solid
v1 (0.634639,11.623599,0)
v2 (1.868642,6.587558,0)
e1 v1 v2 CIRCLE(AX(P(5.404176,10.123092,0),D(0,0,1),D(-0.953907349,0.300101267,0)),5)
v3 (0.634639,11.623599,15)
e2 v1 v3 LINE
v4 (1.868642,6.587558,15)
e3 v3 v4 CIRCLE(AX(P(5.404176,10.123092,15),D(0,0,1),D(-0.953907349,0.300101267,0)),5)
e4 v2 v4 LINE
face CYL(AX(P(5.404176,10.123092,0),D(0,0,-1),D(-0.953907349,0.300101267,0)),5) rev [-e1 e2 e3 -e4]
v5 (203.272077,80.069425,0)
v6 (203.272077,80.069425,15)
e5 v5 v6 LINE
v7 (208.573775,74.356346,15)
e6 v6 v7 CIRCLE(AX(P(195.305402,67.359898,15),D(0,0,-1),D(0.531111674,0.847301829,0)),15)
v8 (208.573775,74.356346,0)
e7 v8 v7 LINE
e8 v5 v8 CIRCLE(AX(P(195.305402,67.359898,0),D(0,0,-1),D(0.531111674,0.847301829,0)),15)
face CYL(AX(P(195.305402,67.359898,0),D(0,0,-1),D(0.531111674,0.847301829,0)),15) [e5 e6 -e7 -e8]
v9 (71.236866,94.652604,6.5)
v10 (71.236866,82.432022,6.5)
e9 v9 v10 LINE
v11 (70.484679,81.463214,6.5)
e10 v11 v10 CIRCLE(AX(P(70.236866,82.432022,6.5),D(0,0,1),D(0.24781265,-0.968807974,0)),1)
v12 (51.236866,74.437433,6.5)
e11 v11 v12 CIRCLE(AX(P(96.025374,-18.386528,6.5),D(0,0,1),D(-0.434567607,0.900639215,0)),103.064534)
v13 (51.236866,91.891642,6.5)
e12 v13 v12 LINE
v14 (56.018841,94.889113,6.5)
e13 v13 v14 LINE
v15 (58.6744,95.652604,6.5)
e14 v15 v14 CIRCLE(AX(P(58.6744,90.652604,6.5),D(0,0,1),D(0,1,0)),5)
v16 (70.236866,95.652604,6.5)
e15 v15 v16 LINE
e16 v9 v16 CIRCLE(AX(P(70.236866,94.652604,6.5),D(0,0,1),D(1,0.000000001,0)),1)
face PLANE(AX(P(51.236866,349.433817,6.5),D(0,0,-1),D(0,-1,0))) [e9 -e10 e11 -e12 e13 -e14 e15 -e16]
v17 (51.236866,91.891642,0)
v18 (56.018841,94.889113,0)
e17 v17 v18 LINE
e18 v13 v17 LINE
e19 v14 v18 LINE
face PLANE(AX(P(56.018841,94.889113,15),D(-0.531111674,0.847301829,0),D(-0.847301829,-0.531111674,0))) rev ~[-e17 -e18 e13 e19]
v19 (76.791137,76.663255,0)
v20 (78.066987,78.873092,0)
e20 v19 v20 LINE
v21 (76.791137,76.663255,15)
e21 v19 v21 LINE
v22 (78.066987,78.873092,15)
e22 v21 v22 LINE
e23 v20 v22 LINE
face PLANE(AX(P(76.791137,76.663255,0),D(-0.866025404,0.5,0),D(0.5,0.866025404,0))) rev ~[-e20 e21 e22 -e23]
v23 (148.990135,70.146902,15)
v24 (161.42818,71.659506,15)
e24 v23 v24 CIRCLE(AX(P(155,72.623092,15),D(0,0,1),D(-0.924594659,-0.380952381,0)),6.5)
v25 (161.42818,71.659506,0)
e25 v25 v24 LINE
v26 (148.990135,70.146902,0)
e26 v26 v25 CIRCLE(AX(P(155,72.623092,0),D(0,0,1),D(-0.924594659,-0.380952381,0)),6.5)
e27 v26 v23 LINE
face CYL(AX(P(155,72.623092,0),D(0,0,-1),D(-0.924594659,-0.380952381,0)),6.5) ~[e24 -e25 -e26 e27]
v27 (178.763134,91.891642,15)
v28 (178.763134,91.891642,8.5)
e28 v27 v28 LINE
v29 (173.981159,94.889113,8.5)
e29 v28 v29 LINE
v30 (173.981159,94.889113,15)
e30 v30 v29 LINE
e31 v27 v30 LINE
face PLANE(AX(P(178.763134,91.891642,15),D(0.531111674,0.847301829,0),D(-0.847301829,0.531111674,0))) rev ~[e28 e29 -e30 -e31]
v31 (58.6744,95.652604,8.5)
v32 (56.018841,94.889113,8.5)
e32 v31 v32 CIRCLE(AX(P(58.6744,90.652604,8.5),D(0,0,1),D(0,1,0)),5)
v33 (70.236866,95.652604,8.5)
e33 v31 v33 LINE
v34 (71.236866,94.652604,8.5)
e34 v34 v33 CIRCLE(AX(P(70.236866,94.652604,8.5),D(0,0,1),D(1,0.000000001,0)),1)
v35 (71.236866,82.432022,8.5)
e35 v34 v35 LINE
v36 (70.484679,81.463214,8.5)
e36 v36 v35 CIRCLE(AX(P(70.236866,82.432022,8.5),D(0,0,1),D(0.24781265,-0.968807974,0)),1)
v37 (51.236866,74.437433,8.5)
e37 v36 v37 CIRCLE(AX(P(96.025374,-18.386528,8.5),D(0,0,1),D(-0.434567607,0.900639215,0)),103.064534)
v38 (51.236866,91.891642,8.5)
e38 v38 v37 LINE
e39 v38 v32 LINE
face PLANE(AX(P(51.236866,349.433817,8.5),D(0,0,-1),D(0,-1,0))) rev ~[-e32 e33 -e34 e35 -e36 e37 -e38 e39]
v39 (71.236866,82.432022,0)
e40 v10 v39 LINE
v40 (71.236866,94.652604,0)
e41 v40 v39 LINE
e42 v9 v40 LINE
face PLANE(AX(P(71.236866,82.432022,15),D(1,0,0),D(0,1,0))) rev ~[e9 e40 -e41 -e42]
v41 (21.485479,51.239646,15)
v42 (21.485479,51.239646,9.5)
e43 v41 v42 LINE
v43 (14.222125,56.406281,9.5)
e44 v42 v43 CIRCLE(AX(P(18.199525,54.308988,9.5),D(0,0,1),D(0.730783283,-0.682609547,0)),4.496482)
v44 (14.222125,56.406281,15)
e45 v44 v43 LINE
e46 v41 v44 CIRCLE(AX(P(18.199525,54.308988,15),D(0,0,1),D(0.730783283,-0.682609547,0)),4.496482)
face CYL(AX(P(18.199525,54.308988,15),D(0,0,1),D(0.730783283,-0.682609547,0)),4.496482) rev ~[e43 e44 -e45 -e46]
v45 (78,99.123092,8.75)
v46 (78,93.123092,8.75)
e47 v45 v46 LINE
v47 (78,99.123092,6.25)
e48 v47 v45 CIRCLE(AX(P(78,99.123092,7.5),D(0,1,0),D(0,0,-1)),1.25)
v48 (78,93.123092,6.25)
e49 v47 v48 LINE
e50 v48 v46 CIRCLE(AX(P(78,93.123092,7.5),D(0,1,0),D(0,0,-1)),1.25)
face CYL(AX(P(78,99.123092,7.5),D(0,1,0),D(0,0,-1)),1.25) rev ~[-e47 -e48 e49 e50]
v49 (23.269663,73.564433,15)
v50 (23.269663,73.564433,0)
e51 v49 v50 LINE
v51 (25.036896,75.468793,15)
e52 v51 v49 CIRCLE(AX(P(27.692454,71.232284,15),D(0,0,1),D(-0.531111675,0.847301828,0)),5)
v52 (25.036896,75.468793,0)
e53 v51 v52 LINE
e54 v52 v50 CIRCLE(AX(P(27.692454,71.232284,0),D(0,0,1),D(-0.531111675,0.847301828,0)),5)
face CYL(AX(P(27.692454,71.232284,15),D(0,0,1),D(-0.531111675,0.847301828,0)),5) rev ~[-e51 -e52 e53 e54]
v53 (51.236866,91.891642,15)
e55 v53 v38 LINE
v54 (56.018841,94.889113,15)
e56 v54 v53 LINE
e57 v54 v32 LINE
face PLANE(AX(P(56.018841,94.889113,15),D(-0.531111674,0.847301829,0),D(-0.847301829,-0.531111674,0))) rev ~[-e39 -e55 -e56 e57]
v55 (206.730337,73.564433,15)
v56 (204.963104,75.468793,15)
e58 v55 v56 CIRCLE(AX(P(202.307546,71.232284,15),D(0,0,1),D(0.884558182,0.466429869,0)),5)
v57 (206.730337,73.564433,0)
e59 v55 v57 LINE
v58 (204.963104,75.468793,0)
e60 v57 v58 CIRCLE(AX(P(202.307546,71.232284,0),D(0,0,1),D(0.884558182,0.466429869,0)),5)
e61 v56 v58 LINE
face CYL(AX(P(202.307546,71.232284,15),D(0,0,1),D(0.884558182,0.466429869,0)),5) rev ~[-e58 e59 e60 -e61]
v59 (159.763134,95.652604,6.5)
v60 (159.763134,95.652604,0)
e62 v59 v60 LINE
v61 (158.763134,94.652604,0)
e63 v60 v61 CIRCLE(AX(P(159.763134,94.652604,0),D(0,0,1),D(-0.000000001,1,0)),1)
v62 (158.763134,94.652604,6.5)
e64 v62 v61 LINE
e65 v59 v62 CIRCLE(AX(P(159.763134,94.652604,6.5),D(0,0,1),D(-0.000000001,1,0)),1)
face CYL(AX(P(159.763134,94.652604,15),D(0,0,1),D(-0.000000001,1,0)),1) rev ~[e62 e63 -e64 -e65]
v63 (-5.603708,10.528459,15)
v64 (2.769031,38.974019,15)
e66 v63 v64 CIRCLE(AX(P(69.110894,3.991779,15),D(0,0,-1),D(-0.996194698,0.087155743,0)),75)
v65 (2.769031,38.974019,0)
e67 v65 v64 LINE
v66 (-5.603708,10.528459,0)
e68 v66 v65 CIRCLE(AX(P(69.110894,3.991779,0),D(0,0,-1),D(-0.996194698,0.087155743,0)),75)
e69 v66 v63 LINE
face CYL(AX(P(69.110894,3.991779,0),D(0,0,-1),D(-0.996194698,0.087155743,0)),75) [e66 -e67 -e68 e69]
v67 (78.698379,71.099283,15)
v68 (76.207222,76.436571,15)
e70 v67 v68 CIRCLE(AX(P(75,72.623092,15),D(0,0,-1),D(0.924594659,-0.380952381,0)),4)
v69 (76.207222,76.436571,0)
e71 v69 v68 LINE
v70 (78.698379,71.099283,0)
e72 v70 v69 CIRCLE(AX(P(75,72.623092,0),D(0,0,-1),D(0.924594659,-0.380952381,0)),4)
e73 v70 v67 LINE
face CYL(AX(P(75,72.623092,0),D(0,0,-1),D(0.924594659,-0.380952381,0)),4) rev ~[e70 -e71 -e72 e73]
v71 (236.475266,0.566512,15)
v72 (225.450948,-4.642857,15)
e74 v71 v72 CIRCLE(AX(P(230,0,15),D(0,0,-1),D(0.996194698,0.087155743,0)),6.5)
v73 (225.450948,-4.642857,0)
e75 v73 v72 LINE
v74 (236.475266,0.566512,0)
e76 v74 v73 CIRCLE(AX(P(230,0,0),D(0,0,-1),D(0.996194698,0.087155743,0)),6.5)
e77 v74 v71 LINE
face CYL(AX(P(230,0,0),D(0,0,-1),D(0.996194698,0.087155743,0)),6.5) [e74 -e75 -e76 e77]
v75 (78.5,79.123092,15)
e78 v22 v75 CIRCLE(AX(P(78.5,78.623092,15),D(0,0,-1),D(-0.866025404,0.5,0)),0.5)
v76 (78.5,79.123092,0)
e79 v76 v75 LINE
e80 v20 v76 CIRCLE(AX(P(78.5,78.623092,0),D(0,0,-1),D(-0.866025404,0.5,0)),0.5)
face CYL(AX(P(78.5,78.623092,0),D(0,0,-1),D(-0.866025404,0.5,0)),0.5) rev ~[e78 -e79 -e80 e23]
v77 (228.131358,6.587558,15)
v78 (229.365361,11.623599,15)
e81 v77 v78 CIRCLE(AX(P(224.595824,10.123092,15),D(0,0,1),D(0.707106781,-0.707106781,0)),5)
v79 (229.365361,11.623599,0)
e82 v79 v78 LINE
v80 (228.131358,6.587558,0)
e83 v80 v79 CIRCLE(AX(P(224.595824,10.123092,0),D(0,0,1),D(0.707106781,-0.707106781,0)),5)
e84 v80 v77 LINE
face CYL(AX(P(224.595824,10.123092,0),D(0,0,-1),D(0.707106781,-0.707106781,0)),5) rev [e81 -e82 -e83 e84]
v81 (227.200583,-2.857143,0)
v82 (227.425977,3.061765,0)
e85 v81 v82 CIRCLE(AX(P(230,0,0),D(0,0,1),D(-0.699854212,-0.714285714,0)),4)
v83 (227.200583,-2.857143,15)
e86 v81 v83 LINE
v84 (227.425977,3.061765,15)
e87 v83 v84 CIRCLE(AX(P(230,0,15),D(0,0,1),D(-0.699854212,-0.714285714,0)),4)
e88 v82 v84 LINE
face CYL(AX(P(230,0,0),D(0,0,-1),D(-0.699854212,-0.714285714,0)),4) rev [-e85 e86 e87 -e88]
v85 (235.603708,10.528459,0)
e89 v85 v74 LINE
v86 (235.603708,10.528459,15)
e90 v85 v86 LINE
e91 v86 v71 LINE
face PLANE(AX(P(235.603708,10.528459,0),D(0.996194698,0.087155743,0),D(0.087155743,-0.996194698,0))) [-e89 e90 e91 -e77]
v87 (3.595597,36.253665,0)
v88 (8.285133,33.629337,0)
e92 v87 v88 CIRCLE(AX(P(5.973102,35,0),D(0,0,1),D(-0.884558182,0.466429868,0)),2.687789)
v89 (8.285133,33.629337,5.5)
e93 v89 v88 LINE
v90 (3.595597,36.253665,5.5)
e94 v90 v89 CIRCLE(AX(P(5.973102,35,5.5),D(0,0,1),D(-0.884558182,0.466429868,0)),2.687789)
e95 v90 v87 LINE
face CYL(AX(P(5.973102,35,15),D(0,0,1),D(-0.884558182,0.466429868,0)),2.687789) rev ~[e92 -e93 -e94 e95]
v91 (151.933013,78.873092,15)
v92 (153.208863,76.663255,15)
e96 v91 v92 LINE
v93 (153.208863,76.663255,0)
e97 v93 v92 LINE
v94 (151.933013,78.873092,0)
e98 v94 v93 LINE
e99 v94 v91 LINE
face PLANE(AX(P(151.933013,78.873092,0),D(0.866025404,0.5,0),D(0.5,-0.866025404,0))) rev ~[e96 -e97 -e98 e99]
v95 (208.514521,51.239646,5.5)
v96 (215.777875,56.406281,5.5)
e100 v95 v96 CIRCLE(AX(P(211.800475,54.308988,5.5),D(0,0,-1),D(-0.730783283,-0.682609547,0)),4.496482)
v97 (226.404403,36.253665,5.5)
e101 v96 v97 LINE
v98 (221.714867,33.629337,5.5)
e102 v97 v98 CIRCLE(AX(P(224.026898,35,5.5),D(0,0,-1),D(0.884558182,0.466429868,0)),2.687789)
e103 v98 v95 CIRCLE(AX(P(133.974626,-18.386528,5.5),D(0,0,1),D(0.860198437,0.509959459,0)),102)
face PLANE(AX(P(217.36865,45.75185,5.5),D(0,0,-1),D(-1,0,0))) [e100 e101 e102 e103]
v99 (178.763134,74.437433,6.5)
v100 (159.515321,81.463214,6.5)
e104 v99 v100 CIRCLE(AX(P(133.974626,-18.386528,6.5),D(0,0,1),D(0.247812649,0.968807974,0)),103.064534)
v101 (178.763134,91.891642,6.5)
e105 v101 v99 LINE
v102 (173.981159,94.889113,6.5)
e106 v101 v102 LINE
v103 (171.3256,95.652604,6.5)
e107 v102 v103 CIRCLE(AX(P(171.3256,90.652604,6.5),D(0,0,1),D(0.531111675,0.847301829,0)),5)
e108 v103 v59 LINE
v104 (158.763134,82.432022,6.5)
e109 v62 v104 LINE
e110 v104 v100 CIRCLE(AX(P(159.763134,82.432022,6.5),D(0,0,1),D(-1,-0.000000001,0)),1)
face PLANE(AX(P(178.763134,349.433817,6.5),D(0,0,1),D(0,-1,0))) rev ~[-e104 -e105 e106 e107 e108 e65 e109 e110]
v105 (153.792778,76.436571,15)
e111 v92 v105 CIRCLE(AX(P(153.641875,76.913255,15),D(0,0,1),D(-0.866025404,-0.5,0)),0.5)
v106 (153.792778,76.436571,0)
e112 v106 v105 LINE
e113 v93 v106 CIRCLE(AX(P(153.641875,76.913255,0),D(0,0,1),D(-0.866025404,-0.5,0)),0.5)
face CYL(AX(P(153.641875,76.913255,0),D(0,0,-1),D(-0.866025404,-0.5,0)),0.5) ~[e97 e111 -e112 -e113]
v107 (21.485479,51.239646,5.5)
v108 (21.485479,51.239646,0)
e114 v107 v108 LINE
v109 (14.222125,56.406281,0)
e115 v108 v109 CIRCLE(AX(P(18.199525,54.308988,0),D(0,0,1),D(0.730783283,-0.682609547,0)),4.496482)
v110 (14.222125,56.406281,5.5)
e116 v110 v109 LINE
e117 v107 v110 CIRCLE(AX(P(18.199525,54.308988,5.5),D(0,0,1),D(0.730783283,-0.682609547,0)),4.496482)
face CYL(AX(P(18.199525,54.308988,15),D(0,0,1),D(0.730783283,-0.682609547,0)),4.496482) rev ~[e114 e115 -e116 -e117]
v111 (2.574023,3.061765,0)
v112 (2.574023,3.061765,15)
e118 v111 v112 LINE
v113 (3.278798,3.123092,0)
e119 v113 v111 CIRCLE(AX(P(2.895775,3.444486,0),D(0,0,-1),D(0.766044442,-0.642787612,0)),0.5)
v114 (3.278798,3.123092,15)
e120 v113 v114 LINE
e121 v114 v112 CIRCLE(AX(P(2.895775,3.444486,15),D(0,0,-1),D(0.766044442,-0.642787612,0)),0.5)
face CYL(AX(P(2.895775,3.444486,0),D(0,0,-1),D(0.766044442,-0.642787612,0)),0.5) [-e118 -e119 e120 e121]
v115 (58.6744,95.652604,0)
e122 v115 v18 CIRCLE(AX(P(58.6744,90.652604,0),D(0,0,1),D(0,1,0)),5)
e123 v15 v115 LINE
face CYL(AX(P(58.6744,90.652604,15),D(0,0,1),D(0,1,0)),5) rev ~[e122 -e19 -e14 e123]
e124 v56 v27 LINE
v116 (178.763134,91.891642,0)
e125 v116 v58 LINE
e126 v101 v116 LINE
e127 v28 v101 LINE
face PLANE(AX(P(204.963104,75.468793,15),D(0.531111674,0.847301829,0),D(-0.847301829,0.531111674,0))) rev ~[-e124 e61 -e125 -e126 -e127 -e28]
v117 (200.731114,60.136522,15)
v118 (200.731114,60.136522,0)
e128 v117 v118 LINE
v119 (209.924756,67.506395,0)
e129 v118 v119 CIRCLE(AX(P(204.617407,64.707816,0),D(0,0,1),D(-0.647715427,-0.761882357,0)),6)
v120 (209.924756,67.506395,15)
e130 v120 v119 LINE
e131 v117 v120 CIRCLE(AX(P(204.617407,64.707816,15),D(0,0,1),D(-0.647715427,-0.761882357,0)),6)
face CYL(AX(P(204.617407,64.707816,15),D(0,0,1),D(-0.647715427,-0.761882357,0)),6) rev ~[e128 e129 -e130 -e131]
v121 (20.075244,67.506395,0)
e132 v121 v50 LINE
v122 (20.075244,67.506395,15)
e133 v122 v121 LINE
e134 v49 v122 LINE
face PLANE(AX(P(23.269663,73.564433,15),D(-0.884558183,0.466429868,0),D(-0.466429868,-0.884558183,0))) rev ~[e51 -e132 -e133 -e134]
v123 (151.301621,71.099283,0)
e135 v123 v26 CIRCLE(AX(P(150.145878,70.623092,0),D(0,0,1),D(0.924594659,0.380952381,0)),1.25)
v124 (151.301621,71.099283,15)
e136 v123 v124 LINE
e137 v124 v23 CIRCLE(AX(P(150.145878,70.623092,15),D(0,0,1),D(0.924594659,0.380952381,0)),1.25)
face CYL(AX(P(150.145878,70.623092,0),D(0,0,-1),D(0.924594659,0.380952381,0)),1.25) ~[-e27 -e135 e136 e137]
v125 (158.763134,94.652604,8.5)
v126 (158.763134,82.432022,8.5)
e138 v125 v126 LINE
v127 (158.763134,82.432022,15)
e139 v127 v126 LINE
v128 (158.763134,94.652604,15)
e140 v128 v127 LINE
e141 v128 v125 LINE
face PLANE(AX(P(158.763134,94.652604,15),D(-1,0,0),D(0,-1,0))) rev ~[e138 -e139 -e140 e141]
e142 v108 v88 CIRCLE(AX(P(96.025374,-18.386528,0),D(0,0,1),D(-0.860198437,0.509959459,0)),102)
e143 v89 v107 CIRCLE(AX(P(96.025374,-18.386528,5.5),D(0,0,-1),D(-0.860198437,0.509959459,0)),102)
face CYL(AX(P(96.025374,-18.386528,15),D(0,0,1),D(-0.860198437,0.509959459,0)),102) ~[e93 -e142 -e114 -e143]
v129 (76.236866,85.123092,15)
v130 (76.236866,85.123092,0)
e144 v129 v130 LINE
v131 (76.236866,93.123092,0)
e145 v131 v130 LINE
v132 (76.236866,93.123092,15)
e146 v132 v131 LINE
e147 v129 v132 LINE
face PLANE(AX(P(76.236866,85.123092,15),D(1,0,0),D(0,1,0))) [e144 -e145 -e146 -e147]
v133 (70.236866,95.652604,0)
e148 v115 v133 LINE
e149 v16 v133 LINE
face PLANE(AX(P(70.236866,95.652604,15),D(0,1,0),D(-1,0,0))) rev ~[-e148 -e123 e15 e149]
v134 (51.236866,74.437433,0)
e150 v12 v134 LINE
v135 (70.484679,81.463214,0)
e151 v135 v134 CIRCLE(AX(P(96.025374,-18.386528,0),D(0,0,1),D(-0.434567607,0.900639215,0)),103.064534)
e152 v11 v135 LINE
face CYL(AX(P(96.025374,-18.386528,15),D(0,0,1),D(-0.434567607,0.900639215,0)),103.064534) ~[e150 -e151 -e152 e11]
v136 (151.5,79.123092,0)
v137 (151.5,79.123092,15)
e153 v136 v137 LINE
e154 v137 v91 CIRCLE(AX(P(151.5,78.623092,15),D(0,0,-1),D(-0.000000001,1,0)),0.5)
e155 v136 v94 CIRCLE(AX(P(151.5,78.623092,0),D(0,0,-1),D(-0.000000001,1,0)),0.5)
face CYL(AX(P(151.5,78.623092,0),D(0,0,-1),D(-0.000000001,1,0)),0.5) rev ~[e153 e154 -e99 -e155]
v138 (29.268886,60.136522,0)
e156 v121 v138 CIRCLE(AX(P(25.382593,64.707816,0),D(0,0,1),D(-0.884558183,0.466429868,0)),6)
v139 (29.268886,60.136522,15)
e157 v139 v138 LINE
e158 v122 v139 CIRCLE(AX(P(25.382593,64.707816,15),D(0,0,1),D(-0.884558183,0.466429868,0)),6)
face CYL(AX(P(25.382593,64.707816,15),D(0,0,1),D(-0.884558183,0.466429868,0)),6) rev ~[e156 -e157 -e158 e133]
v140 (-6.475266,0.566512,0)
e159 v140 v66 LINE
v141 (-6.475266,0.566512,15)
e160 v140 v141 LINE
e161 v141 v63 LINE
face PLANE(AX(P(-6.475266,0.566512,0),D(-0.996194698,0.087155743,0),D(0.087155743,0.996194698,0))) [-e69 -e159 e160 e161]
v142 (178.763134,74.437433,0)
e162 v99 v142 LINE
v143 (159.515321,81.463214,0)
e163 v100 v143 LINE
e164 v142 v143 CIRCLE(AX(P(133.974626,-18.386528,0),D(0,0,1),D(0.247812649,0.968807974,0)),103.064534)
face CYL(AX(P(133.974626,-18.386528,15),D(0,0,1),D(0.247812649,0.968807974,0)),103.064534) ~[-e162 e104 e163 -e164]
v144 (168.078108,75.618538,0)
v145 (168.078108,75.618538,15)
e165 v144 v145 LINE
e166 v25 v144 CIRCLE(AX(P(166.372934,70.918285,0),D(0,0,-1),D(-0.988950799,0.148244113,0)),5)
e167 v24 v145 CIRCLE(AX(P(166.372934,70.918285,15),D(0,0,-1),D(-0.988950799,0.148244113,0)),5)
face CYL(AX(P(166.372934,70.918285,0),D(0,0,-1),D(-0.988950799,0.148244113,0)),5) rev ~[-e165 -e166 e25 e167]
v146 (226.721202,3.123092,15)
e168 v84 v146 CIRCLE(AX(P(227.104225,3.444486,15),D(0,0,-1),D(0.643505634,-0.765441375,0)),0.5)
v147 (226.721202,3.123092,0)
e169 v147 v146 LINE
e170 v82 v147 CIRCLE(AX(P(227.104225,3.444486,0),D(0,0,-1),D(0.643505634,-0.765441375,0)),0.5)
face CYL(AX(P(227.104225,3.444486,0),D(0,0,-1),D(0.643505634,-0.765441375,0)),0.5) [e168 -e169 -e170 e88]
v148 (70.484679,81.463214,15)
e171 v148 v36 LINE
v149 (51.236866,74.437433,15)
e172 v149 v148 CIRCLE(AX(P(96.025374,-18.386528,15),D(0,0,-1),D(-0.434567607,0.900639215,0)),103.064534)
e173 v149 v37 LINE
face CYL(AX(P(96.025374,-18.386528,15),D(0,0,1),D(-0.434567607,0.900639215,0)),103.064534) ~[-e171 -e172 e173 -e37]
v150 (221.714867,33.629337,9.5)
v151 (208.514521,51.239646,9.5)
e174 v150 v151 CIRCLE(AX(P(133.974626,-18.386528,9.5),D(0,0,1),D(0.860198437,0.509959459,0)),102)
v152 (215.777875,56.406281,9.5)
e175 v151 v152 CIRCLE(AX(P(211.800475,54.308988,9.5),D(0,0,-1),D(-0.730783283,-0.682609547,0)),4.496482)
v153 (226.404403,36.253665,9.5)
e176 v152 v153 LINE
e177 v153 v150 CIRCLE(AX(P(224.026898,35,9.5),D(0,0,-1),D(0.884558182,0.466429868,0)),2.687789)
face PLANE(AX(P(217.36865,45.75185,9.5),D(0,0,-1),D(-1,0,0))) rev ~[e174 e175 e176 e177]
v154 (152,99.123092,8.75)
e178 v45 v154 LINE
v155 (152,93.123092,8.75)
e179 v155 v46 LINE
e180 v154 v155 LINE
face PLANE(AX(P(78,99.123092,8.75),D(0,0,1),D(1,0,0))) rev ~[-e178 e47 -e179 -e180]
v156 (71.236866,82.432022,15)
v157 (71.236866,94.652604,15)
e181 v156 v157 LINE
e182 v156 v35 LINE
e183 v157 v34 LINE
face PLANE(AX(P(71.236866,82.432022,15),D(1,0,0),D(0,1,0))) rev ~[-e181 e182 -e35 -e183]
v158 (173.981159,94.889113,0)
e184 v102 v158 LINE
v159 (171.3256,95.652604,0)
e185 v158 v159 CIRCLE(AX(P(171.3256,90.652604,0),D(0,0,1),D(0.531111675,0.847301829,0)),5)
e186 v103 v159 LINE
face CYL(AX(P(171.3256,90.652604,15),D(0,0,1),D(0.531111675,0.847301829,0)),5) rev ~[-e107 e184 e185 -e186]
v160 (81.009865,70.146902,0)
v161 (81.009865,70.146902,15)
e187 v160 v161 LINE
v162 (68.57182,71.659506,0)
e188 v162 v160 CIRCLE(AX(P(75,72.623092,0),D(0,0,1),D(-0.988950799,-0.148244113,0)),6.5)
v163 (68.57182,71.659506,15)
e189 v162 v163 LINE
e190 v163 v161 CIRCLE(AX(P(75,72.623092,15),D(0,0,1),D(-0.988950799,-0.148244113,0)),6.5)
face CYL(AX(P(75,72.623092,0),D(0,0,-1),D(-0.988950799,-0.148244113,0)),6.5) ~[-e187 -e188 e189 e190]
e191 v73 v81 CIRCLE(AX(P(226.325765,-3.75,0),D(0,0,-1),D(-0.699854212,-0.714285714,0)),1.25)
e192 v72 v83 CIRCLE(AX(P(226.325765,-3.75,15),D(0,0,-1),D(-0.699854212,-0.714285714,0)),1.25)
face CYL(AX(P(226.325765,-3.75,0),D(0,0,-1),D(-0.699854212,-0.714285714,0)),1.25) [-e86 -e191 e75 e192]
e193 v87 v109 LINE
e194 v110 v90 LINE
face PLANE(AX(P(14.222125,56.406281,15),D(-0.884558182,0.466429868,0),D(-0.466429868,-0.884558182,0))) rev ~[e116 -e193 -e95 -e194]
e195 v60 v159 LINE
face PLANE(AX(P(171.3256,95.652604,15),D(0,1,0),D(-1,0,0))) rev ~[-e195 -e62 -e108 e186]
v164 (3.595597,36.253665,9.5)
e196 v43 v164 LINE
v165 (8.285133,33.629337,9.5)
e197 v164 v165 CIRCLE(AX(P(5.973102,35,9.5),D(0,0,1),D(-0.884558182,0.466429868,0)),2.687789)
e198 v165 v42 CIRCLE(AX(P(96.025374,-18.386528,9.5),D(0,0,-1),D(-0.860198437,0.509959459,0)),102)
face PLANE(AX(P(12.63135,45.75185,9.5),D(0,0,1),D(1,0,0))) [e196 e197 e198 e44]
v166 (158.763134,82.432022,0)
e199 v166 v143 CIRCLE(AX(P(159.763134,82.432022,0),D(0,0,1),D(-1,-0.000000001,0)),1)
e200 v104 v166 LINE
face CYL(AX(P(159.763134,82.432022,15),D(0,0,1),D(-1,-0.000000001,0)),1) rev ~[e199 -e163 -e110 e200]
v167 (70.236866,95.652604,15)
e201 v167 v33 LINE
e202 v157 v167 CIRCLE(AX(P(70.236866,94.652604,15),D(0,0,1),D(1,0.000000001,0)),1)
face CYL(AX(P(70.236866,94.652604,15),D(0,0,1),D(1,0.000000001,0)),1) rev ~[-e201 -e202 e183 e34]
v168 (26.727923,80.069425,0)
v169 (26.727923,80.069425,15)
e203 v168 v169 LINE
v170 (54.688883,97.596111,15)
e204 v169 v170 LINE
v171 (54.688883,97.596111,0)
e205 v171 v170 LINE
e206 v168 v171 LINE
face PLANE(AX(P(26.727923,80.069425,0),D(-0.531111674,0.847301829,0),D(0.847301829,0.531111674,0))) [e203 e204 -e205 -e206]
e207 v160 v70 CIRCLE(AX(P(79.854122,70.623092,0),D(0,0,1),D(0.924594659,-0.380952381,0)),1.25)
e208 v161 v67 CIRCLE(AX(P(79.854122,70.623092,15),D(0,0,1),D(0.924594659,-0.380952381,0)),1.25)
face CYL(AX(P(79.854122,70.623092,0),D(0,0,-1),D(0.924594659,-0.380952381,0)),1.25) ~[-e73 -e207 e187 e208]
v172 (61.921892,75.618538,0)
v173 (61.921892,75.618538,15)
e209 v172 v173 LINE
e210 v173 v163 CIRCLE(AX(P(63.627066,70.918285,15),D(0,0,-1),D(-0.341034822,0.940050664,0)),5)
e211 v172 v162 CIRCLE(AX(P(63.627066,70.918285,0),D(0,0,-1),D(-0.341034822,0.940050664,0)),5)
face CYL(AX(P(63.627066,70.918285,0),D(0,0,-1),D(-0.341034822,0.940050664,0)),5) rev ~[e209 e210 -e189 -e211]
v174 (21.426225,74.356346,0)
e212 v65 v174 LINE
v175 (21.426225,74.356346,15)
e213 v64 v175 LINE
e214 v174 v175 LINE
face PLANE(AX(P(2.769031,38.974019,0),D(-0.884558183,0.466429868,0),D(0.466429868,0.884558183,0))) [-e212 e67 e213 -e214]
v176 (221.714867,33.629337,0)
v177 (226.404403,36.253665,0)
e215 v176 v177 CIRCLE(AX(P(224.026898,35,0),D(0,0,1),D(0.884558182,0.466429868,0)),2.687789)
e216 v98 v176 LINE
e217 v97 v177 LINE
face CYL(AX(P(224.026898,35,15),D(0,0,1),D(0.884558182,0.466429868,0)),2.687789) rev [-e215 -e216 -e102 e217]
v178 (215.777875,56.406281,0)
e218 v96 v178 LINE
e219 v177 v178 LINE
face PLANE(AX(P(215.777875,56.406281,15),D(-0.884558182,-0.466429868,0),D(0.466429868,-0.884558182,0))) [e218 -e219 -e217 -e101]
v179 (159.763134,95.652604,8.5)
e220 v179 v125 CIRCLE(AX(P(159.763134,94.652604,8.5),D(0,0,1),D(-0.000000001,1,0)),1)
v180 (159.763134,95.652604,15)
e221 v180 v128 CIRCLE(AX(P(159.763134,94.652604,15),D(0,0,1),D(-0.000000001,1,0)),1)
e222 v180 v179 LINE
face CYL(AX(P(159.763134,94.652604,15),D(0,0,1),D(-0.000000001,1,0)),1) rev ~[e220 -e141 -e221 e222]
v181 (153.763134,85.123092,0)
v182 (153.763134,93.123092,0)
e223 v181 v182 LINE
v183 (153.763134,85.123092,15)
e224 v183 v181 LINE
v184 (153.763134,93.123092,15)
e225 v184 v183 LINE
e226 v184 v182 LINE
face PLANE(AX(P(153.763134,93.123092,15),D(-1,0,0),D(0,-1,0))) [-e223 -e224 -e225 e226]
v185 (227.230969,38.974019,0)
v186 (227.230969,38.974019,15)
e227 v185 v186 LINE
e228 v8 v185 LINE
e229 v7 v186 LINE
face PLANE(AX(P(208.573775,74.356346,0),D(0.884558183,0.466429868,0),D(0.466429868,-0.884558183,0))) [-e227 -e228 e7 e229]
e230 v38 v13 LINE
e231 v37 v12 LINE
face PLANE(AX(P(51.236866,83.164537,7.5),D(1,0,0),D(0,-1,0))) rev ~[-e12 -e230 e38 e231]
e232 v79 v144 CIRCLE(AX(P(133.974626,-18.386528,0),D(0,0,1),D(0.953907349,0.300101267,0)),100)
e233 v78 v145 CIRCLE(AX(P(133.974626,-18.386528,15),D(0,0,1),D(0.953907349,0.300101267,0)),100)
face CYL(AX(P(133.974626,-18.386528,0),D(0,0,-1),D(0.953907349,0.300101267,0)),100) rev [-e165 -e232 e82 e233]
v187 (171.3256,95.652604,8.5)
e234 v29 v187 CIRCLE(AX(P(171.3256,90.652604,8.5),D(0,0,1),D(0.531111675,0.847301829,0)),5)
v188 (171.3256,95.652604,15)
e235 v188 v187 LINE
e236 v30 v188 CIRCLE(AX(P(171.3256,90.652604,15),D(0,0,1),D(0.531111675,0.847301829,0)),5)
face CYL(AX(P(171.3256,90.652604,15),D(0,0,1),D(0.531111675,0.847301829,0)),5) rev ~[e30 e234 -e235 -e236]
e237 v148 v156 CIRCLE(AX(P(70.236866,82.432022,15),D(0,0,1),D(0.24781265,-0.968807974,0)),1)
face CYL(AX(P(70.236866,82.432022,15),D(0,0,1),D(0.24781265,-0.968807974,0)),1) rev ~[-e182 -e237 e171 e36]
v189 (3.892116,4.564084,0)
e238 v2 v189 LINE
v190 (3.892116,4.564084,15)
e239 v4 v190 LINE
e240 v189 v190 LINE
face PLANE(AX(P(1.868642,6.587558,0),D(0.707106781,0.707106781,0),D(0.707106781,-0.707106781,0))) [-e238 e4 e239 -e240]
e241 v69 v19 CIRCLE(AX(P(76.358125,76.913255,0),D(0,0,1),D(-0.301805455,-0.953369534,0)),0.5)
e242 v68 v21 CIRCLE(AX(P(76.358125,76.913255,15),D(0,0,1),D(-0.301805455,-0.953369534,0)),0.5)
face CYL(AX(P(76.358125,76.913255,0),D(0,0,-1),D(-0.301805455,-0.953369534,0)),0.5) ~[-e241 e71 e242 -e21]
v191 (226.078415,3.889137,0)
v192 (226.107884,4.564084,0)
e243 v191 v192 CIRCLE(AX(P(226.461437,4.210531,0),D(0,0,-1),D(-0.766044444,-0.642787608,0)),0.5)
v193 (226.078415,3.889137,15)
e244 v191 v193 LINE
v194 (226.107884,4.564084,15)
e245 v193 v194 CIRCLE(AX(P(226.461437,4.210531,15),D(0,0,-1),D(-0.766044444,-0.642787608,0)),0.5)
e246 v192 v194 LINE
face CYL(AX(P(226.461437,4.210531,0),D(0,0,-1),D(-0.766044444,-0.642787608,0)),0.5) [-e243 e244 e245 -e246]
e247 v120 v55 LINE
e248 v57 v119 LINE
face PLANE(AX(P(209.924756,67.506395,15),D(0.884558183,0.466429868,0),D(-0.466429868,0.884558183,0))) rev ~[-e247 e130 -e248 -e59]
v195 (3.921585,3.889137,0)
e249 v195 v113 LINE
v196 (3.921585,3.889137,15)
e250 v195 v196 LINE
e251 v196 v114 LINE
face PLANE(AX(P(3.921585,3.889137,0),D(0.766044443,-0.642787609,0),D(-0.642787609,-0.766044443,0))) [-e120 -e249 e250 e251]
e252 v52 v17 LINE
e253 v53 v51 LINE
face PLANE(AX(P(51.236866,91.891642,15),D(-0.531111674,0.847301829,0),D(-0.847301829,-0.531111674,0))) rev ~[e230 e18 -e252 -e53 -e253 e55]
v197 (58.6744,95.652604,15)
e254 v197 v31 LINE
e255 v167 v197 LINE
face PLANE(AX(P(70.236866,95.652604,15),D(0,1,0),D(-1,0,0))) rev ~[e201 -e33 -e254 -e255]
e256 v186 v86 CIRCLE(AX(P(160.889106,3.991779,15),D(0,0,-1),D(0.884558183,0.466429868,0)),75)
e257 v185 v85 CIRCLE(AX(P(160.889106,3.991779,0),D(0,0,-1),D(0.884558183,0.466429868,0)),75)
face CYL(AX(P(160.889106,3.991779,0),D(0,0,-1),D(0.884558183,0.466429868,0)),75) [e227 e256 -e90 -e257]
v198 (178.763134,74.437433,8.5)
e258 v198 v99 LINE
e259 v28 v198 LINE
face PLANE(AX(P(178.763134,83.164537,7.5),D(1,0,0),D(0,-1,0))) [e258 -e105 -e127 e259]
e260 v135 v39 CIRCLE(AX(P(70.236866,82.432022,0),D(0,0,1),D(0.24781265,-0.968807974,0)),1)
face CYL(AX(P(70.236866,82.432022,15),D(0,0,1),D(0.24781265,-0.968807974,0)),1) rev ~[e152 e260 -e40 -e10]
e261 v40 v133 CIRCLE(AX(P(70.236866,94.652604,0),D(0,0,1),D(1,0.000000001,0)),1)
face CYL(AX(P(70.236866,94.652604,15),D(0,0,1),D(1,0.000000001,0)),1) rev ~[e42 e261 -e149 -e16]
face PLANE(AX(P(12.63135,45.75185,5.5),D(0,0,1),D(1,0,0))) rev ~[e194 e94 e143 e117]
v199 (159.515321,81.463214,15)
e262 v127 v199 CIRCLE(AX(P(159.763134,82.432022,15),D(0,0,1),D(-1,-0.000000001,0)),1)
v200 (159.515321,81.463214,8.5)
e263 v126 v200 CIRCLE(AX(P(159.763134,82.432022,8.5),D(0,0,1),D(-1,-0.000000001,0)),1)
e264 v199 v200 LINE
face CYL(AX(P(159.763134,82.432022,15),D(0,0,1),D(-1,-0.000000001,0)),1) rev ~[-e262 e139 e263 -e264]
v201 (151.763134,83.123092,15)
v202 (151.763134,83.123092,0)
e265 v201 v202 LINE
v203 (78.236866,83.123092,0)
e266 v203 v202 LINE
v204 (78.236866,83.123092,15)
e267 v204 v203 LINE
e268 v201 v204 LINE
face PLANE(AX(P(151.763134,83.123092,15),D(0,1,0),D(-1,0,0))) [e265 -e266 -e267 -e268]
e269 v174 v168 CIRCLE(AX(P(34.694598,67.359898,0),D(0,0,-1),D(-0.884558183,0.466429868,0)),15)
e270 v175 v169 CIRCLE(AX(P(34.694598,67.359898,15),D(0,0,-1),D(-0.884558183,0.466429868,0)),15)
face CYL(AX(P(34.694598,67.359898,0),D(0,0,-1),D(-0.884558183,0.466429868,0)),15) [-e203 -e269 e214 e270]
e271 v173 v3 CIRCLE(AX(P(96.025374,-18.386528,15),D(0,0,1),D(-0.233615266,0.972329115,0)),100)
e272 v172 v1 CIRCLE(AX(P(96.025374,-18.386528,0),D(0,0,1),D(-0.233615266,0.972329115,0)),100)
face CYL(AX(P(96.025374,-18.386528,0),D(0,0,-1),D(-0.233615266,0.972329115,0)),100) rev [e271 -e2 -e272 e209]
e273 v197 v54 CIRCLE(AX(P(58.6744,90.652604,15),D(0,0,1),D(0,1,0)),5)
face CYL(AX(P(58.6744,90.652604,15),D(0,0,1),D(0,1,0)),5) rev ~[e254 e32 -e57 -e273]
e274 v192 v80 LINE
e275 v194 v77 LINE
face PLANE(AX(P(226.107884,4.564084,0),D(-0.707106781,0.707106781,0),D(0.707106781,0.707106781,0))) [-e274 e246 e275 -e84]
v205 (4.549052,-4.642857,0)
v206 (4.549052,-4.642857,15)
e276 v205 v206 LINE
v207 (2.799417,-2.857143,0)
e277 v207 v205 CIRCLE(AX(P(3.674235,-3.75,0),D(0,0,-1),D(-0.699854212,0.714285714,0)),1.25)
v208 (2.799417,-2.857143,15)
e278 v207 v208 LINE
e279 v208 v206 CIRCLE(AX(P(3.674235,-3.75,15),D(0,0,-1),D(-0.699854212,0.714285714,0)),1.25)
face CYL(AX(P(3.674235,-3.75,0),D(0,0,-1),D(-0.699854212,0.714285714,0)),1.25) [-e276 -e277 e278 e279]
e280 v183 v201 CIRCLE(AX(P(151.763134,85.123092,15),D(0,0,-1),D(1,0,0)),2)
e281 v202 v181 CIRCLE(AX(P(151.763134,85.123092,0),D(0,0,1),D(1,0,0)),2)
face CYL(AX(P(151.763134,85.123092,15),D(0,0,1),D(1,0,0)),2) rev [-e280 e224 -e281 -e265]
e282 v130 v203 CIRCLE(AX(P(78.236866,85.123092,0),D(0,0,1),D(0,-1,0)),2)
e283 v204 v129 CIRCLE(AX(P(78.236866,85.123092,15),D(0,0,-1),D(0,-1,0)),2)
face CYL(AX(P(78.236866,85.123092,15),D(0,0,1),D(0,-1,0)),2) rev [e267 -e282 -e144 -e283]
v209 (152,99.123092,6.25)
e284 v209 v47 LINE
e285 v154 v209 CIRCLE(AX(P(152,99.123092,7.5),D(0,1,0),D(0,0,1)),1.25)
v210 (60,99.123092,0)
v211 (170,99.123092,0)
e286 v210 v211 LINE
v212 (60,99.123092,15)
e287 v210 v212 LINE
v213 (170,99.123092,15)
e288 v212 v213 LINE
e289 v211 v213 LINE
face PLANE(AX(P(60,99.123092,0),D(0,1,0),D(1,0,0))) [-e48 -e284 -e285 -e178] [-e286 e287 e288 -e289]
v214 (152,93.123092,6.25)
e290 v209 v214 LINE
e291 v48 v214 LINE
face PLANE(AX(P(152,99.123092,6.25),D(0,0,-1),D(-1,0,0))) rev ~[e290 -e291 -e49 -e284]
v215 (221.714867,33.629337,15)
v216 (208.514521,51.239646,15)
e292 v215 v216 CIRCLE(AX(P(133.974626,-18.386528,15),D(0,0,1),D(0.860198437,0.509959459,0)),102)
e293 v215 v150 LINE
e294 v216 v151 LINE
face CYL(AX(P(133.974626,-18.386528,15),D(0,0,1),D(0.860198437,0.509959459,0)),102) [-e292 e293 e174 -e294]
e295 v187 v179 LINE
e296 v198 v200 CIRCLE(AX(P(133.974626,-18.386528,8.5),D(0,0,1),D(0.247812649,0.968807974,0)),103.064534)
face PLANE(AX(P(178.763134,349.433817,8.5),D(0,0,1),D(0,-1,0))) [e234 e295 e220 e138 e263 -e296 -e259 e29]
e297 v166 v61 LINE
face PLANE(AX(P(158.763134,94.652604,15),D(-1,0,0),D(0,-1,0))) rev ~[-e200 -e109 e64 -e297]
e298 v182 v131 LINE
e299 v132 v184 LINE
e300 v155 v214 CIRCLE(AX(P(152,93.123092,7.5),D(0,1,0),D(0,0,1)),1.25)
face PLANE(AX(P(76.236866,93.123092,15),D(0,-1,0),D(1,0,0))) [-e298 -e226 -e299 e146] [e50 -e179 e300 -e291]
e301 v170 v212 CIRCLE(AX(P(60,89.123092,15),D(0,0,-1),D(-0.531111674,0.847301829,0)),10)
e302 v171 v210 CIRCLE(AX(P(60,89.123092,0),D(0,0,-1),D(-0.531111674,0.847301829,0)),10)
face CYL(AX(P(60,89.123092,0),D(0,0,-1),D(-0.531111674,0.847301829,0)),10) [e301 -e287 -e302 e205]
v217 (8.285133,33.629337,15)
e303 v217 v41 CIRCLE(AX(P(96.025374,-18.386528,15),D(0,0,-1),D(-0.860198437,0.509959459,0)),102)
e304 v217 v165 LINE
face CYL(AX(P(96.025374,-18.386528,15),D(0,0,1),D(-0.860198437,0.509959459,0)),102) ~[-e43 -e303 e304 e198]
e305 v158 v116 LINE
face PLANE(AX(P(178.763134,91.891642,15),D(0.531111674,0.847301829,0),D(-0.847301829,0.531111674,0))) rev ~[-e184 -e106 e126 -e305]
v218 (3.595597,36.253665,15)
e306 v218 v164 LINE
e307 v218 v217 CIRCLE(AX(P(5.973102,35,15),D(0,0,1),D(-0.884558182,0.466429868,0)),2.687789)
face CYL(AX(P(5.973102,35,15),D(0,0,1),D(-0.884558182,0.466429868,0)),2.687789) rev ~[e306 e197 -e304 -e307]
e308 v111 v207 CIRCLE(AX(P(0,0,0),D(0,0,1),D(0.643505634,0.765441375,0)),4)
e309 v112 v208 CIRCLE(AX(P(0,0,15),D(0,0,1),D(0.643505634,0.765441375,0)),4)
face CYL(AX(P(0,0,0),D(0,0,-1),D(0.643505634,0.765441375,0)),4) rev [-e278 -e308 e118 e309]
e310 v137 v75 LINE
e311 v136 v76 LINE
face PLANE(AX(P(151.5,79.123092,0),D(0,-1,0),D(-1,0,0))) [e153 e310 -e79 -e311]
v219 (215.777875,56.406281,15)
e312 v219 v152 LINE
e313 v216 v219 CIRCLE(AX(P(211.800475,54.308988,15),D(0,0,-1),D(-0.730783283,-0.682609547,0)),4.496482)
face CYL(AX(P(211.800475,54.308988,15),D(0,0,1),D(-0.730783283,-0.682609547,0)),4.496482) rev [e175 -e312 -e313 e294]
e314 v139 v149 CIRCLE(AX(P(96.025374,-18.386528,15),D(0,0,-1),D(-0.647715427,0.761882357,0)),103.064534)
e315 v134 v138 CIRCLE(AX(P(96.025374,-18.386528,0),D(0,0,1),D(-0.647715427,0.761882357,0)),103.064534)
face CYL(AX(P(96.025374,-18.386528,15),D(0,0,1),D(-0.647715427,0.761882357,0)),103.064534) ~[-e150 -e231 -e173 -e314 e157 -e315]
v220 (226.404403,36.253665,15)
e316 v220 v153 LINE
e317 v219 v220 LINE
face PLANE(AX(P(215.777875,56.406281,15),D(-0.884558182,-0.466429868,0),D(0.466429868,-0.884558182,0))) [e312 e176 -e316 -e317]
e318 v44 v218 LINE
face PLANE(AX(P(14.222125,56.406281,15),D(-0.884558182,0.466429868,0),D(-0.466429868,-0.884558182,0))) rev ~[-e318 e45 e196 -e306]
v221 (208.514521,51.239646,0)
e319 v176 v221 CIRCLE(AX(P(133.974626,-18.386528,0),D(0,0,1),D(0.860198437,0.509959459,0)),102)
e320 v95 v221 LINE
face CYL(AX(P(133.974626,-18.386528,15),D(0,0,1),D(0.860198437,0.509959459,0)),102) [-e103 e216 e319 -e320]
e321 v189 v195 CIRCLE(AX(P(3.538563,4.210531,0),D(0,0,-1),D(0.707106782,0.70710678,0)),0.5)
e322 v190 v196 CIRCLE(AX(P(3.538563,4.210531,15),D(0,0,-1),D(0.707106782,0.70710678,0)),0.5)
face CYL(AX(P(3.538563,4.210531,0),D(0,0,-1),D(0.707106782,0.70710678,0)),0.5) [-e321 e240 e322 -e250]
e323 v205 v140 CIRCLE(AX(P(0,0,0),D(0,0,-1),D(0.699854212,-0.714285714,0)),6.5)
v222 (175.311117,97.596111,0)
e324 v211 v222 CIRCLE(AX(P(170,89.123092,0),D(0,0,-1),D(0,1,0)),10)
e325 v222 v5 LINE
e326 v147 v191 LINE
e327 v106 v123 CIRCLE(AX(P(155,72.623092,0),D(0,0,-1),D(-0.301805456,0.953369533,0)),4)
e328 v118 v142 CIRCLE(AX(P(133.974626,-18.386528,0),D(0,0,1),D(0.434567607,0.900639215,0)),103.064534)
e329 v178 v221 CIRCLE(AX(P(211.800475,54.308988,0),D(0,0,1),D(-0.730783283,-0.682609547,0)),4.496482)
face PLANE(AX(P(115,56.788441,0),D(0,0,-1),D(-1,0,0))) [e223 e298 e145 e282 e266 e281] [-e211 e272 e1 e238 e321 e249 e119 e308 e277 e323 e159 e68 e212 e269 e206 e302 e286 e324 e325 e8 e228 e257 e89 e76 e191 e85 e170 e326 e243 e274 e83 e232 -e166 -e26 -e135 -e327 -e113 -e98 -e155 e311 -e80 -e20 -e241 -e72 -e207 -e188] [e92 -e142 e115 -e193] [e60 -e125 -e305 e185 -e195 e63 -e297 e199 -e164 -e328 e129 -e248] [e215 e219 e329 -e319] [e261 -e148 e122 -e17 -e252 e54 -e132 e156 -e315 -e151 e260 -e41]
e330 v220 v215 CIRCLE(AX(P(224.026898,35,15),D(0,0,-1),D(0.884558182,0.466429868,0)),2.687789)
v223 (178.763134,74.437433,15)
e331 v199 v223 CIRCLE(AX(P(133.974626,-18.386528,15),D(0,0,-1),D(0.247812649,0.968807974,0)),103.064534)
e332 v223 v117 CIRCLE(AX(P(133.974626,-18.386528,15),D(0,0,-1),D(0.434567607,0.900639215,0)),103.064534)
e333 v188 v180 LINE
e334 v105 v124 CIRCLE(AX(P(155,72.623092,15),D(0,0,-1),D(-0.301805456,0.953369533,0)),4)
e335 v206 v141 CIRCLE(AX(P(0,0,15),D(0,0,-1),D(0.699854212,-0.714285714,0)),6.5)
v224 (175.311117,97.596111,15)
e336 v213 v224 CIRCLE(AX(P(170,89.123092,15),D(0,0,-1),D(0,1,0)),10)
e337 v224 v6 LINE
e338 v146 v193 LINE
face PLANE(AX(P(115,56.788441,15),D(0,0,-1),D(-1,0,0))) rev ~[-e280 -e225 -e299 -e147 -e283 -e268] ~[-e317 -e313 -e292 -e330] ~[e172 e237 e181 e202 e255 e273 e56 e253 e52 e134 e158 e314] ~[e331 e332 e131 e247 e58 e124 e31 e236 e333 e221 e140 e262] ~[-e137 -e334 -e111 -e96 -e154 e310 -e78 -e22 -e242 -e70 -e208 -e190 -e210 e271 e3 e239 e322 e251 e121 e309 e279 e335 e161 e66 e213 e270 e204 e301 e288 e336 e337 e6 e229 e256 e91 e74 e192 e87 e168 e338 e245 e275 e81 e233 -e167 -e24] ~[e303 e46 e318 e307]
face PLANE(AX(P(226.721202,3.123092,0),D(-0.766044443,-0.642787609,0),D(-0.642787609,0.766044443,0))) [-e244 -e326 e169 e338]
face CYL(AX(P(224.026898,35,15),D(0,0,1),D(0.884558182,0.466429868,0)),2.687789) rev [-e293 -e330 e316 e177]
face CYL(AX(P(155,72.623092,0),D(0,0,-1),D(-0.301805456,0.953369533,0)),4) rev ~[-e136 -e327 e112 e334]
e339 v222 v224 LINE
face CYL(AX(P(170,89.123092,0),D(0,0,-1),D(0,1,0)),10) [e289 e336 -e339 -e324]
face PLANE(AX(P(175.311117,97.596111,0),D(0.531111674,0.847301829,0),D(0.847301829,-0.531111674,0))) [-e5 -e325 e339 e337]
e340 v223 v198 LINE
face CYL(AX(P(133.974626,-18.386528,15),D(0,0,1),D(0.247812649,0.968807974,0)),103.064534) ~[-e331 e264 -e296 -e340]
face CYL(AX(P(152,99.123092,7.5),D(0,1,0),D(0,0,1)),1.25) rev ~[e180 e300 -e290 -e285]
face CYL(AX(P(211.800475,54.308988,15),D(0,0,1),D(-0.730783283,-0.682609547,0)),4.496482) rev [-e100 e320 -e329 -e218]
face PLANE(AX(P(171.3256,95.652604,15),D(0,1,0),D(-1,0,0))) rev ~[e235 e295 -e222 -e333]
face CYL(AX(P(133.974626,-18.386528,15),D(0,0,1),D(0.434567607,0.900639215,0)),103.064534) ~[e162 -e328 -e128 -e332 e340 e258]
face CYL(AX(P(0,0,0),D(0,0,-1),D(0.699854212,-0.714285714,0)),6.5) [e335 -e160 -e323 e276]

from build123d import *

# Parameters (mm, degrees)
EXTRUDE_7_DEPTH     = 15
CUT_EXTRUDE_1_DEPTH = 257.870857521
RIB_4_REACH         = 258.542
SKETCH_7_WALL_W     = 532.538559092
SKETCH_7_WALL_H     = 2
RIB_5_REACH         = 258.542
SKETCH_8_WALL_W     = 532.538559092
SKETCH_8_WALL_H     = 2
CUT_EXTRUDE_2_DEPTH = 257.870857521
CUT_EXTRUDE_3_DEPTH = 10
CUT_EXTRUDE_4_DEPTH = 257.870857521
EXTRUDE_8_DEPTH     = 2


with BuildPart() as part:
    # 草图3 → 凸台-拉伸7 (new body)
    with BuildSketch(Plane.XY):
        with BuildLine():
            Line((226.107883645, 4.564084021), (228.1313581, 6.587558476))
            ThreePointArc((228.1313581, 6.587558476), (229.452157682, 8.933123872), (229.365360937, 11.623598716))
            ThreePointArc((229.365360937, 11.623598716), (202.204022959, 54.721265071), (157.336152658, 78.846383531))
            ThreePointArc((157.336152658, 78.846383531), (156.176241581, 79.053674225), (155, 79.123092382))
            Line((155, 79.123092382), (75, 79.123092382))
            ThreePointArc((75, 79.123092382), (73.823758419, 79.053674225), (72.663847342, 78.846383531))
            ThreePointArc((72.663847342, 78.846383531), (27.795977041, 54.721265071), (0.634639063, 11.623598716))
            ThreePointArc((0.634639063, 11.623598716), (0.547842318, 8.933123872), (1.8686419, 6.587558476))
            Line((1.8686419, 6.587558476), (3.892116355, 4.564084021))
            ThreePointArc((3.892116355, 4.564084021), (4.038087075, 4.232340324), (3.921585186, 3.889136825))
            Line((3.921585186, 3.889136825), (3.278797577, 3.123092382))
            ThreePointArc((3.278797577, 3.123092382), (2.939119693, 2.946368462), (2.574022538, 3.0617655))
            ThreePointArc((2.574022538, 3.0617655), (-3.997102919, -0.152211219), (2.799416849, -2.857142857))
            ThreePointArc((2.799416849, -2.857142857), (4.567091757, -2.875182235), (4.549052379, -4.642857143))
            ThreePointArc((4.549052379, -4.642857143), (-2.777041025, -5.876907618), (-6.475265538, 0.566512328))
            Line((-6.475265538, 0.566512328), (-5.60370811, 10.528459309))
            ThreePointArc((-5.60370811, 10.528459309), (-2.837136411, 25.169145871), (2.769030559, 38.974018703))
            Line((2.769030559, 38.974018703), (21.426225279, 74.356346003))
            ThreePointArc((21.426225279, 74.356346003), (23.699524873, 77.563248735), (26.727922901, 80.069425417))
            Line((26.727922901, 80.069425417), (54.688883256, 97.596110672))
            ThreePointArc((54.688883256, 97.596110672), (57.236866172, 98.733768292), (60, 99.123092382))
            Line((60, 99.123092382), (170, 99.123092382))
            ThreePointArc((170, 99.123092382), (172.763133828, 98.733768292), (175.311116744, 97.596110672))
            Line((175.311116744, 97.596110672), (203.272077099, 80.069425417))
            ThreePointArc((203.272077099, 80.069425417), (206.300475127, 77.563248735), (208.573774721, 74.356346003))
            Line((208.573774721, 74.356346003), (227.230969441, 38.974018703))
            ThreePointArc((227.230969441, 38.974018703), (232.837136411, 25.169145871), (235.60370811, 10.528459309))
            Line((235.60370811, 10.528459309), (236.475265538, 0.566512328))
            ThreePointArc((236.475265538, 0.566512328), (232.777041025, -5.876907618), (225.450947621, -4.642857143))
            ThreePointArc((225.450947621, -4.642857143), (225.432908243, -2.875182235), (227.200583151, -2.857142857))
            ThreePointArc((227.200583151, -2.857142857), (233.997102919, -0.152211219), (227.425977462, 3.0617655))
            ThreePointArc((227.425977462, 3.0617655), (227.060880307, 2.946368462), (226.721202423, 3.123092382))
            Line((226.721202423, 3.123092382), (226.078414814, 3.889136825))
            ThreePointArc((226.078414814, 3.889136825), (225.961912925, 4.232340324), (226.107883645, 4.564084021))
        make_face()
        with BuildLine():
            Line((155, 79.123092382), (151.5, 79.123092382))
            ThreePointArc((151.5, 79.123092382), (151.75, 79.056105084), (151.933012702, 78.873092382))
            Line((151.933012702, 78.873092382), (153.208862747, 76.663255282))
            ThreePointArc((153.208862747, 76.663255282), (153.460925165, 76.447146931), (153.792778177, 76.436570515))
            ThreePointArc((153.792778177, 76.436570515), (158.62462258, 70.93131487), (151.301621364, 71.099282859))
            ThreePointArc((151.301621364, 71.099282859), (149.669687564, 71.778835706), (148.990134717, 70.146901906))
            ThreePointArc((148.990134717, 70.146901906), (155.784690615, 66.170630787), (161.428180194, 71.659505648))
            ThreePointArc((161.428180194, 71.659505648), (163.815160833, 75.214538736), (168.0781083, 75.6185384))
            ThreePointArc((168.0781083, 75.6185384), (162.752422297, 77.383187743), (157.336152658, 78.846383531))
            ThreePointArc((157.336152658, 78.846383531), (156.176241581, 79.053674225), (155, 79.123092382))
        make_face()
        with BuildLine():
            ThreePointArc((72.663847342, 78.846383531), (67.247577703, 77.383187743), (61.9218917, 75.6185384))
            ThreePointArc((61.9218917, 75.6185384), (66.184839167, 75.214538736), (68.571819806, 71.659505648))
            ThreePointArc((68.571819806, 71.659505648), (74.215309385, 66.170630787), (81.009865283, 70.146901906))
            ThreePointArc((81.009865283, 70.146901906), (80.330312436, 71.778835706), (78.698378636, 71.099282859))
            ThreePointArc((78.698378636, 71.099282859), (71.37537742, 70.93131487), (76.207221823, 76.436570515))
            ThreePointArc((76.207221823, 76.436570515), (76.539074835, 76.447146931), (76.791137253, 76.663255282))
            Line((76.791137253, 76.663255282), (78.066987298, 78.873092382))
            ThreePointArc((78.066987298, 78.873092382), (78.25, 79.056105084), (78.5, 79.123092382))
            Line((78.5, 79.123092382), (75, 79.123092382))
            ThreePointArc((75, 79.123092382), (73.823758419, 79.053674225), (72.663847342, 78.846383531))
        make_face()
    extrude(amount=EXTRUDE_7_DEPTH)

    # 草图6 → 切除-拉伸1 (cut, through all)
    with BuildSketch(Plane.XY.offset(15)):
        with BuildLine():
            ThreePointArc((58.67439973, 95.652604272), (57.292832816, 95.457942227), (56.018841358, 94.889113416))
            Line((56.018841358, 94.889113416), (51.236866172, 91.891642195))
            Line((51.236866172, 91.891642195), (51.236866172, 74.437432673))
            ThreePointArc((51.236866172, 74.437432673), (60.685741856, 78.429836873), (70.484678821, 81.463214092))
            ThreePointArc((70.484678821, 81.463214092), (71.026743583, 81.818757299), (71.236866172, 82.432022066))
            Line((71.236866172, 82.432022066), (71.236866172, 94.652604272))
            ThreePointArc((71.236866172, 94.652604272), (70.943972953, 95.359711053), (70.236866172, 95.652604272))
            Line((70.236866172, 95.652604272), (58.67439973, 95.652604272))
        make_face()
        with BuildLine():
            Line((51.236866172, 74.437432673), (51.236866172, 91.891642195))
            Line((51.236866172, 91.891642195), (25.036895933, 75.468793115))
            ThreePointArc((25.036895933, 75.468793115), (24.027429924, 74.633400887), (23.269663392, 73.56443331))
            Line((23.269663392, 73.56443331), (20.075243888, 67.506395211))
            ThreePointArc((20.075243888, 67.506395211), (21.629779543, 60.026321447), (29.268885543, 60.136521861))
            ThreePointArc((29.268885543, 60.136521861), (39.796372927, 67.988222639), (51.236866172, 74.437432673))
        make_face()
        with BuildLine():
            Line((178.763133828, 74.437432673), (178.763133828, 91.891642195))
            Line((178.763133828, 91.891642195), (173.981158642, 94.889113416))
            ThreePointArc((173.981158642, 94.889113416), (172.707167184, 95.457942227), (171.32560027, 95.652604272))
            Line((171.32560027, 95.652604272), (159.763133828, 95.652604272))
            ThreePointArc((159.763133828, 95.652604272), (159.056027047, 95.359711053), (158.763133828, 94.652604272))
            Line((158.763133828, 94.652604272), (158.763133828, 82.432022066))
            ThreePointArc((158.763133828, 82.432022066), (158.973256417, 81.818757299), (159.515321179, 81.463214092))
            ThreePointArc((159.515321179, 81.463214092), (169.314258144, 78.429836873), (178.763133828, 74.437432673))
        make_face()
        with BuildLine():
            Line((204.963104067, 75.468793115), (178.763133828, 91.891642195))
            Line((178.763133828, 91.891642195), (178.763133828, 74.437432673))
            ThreePointArc((178.763133828, 74.437432673), (190.203627073, 67.988222639), (200.731114457, 60.136521861))
            ThreePointArc((200.731114457, 60.136521861), (208.370220457, 60.026321447), (209.924756112, 67.506395211))
            Line((209.924756112, 67.506395211), (206.730336608, 73.56443331))
            ThreePointArc((206.730336608, 73.56443331), (205.972570076, 74.633400887), (204.963104067, 75.468793115))
        make_face()
    extrude(amount=-CUT_EXTRUDE_1_DEPTH, mode=Mode.SUBTRACT)

    # 草图7 wall → 筋4 (add, up to next)
    with BuildSketch(Plane(origin=(51.236866172, 83.164537434, 7.5), x_dir=(0, -1, 0), z_dir=(1, 0, 0)), mode=Mode.PRIVATE) as rib_4_sk1:
        Rectangle(SKETCH_7_WALL_W, SKETCH_7_WALL_H)
    rib_4_tool1 = extrude(rib_4_sk1.sketch, amount=RIB_4_REACH, mode=Mode.PRIVATE) - part.part
    add(rib_4_tool1.solids().sort_by_distance((51.236866172, 83.164537434, 7.5))[0])

    # 草图8 wall → 筋5 (add, up to next)
    with BuildSketch(Plane(origin=(178.763133828, 83.164537434, 7.5), x_dir=(0, -1, 0), z_dir=(1, 0, 0)), mode=Mode.PRIVATE) as rib_5_sk1:
        Rectangle(SKETCH_8_WALL_W, SKETCH_8_WALL_H)
    rib_5_tool1 = extrude(rib_5_sk1.sketch, amount=-RIB_5_REACH, mode=Mode.PRIVATE) - part.part
    add(rib_5_tool1.solids().sort_by_distance((178.763133828, 83.164537434, 7.5))[0])

    # 草图9 → 切除-拉伸2 (cut, through all)
    with BuildSketch(Plane.XY.offset(15)):
        with BuildLine():
            Line((76.236866172, 93.123092382), (153.763133828, 93.123092382))
            Line((153.763133828, 93.123092382), (153.763133828, 85.123092382))
            ThreePointArc((153.763133828, 85.123092382), (153.177347391, 83.70887882), (151.763133828, 83.123092382))
            Line((151.763133828, 83.123092382), (78.236866172, 83.123092382))
            ThreePointArc((78.236866172, 83.123092382), (76.822652609, 83.70887882), (76.236866172, 85.123092382))
            Line((76.236866172, 85.123092382), (76.236866172, 93.123092382))
        make_face()
    extrude(amount=-CUT_EXTRUDE_2_DEPTH, mode=Mode.SUBTRACT)

    # 草图10 → 切除-拉伸3 (cut)
    with BuildSketch(Plane(origin=(0, 99.123092382, 0), x_dir=(1, 0, 0), z_dir=(0, 1, 0))):
        with BuildLine():
            Line((152, -6.25), (78, -6.25))
            ThreePointArc((78, -6.25), (76.75, -7.5), (78, -8.75))
            Line((78, -8.75), (152, -8.75))
            ThreePointArc((152, -8.75), (153.25, -7.5), (152, -6.25))
        make_face()
    extrude(amount=-CUT_EXTRUDE_3_DEPTH, mode=Mode.SUBTRACT)

    # 草图11 → 切除-拉伸4 (cut, through all)
    with BuildSketch(Plane.XY.offset(15)):
        with BuildLine():
            Line((14.222124531, 56.406281397), (3.59559655, 36.253664848))
            ThreePointArc((3.59559655, 36.253664848), (4.660529559, 32.65450196), (8.285133372, 33.629336818))
            ThreePointArc((8.285133372, 33.629336818), (14.408945847, 42.791561817), (21.485479078, 51.239645835))
            ThreePointArc((21.485479078, 51.239645835), (20.80587389, 57.973042706), (14.222124531, 56.406281397))
        make_face()
        with BuildLine():
            Line((215.777875469, 56.406281397), (226.40440345, 36.253664848))
            ThreePointArc((226.40440345, 36.253664848), (225.339470441, 32.65450196), (221.714866628, 33.629336818))
            ThreePointArc((221.714866628, 33.629336818), (215.591054153, 42.791561817), (208.514520922, 51.239645835))
            ThreePointArc((208.514520922, 51.239645835), (209.19412611, 57.973042706), (215.777875469, 56.406281397))
        make_face()
    extrude(amount=-CUT_EXTRUDE_4_DEPTH, mode=Mode.SUBTRACT)

    # 草图12 → 凸台-拉伸8 (add, symmetric)
    with BuildSketch(Plane.XY.offset(7.5)):
        with BuildLine():
            Line((215.777875469, 56.406281397), (226.40440345, 36.253664848))
            ThreePointArc((226.40440345, 36.253664848), (225.339470441, 32.65450196), (221.714866628, 33.629336818))
            ThreePointArc((221.714866628, 33.629336818), (215.591054153, 42.791561817), (208.514520922, 51.239645835))
            ThreePointArc((208.514520922, 51.239645835), (209.19412611, 57.973042706), (215.777875469, 56.406281397))
        make_face()
        with BuildLine():
            Line((14.222124531, 56.406281397), (3.59559655, 36.253664848))
            ThreePointArc((3.59559655, 36.253664848), (4.660529559, 32.65450196), (8.285133372, 33.629336818))
            ThreePointArc((8.285133372, 33.629336818), (14.408945847, 42.791561817), (21.485479078, 51.239645835))
            ThreePointArc((21.485479078, 51.239645835), (20.80587389, 57.973042706), (14.222124531, 56.406281397))
        make_face()
    extrude(amount=EXTRUDE_8_DEPTH, both=True)


solid = part.part
